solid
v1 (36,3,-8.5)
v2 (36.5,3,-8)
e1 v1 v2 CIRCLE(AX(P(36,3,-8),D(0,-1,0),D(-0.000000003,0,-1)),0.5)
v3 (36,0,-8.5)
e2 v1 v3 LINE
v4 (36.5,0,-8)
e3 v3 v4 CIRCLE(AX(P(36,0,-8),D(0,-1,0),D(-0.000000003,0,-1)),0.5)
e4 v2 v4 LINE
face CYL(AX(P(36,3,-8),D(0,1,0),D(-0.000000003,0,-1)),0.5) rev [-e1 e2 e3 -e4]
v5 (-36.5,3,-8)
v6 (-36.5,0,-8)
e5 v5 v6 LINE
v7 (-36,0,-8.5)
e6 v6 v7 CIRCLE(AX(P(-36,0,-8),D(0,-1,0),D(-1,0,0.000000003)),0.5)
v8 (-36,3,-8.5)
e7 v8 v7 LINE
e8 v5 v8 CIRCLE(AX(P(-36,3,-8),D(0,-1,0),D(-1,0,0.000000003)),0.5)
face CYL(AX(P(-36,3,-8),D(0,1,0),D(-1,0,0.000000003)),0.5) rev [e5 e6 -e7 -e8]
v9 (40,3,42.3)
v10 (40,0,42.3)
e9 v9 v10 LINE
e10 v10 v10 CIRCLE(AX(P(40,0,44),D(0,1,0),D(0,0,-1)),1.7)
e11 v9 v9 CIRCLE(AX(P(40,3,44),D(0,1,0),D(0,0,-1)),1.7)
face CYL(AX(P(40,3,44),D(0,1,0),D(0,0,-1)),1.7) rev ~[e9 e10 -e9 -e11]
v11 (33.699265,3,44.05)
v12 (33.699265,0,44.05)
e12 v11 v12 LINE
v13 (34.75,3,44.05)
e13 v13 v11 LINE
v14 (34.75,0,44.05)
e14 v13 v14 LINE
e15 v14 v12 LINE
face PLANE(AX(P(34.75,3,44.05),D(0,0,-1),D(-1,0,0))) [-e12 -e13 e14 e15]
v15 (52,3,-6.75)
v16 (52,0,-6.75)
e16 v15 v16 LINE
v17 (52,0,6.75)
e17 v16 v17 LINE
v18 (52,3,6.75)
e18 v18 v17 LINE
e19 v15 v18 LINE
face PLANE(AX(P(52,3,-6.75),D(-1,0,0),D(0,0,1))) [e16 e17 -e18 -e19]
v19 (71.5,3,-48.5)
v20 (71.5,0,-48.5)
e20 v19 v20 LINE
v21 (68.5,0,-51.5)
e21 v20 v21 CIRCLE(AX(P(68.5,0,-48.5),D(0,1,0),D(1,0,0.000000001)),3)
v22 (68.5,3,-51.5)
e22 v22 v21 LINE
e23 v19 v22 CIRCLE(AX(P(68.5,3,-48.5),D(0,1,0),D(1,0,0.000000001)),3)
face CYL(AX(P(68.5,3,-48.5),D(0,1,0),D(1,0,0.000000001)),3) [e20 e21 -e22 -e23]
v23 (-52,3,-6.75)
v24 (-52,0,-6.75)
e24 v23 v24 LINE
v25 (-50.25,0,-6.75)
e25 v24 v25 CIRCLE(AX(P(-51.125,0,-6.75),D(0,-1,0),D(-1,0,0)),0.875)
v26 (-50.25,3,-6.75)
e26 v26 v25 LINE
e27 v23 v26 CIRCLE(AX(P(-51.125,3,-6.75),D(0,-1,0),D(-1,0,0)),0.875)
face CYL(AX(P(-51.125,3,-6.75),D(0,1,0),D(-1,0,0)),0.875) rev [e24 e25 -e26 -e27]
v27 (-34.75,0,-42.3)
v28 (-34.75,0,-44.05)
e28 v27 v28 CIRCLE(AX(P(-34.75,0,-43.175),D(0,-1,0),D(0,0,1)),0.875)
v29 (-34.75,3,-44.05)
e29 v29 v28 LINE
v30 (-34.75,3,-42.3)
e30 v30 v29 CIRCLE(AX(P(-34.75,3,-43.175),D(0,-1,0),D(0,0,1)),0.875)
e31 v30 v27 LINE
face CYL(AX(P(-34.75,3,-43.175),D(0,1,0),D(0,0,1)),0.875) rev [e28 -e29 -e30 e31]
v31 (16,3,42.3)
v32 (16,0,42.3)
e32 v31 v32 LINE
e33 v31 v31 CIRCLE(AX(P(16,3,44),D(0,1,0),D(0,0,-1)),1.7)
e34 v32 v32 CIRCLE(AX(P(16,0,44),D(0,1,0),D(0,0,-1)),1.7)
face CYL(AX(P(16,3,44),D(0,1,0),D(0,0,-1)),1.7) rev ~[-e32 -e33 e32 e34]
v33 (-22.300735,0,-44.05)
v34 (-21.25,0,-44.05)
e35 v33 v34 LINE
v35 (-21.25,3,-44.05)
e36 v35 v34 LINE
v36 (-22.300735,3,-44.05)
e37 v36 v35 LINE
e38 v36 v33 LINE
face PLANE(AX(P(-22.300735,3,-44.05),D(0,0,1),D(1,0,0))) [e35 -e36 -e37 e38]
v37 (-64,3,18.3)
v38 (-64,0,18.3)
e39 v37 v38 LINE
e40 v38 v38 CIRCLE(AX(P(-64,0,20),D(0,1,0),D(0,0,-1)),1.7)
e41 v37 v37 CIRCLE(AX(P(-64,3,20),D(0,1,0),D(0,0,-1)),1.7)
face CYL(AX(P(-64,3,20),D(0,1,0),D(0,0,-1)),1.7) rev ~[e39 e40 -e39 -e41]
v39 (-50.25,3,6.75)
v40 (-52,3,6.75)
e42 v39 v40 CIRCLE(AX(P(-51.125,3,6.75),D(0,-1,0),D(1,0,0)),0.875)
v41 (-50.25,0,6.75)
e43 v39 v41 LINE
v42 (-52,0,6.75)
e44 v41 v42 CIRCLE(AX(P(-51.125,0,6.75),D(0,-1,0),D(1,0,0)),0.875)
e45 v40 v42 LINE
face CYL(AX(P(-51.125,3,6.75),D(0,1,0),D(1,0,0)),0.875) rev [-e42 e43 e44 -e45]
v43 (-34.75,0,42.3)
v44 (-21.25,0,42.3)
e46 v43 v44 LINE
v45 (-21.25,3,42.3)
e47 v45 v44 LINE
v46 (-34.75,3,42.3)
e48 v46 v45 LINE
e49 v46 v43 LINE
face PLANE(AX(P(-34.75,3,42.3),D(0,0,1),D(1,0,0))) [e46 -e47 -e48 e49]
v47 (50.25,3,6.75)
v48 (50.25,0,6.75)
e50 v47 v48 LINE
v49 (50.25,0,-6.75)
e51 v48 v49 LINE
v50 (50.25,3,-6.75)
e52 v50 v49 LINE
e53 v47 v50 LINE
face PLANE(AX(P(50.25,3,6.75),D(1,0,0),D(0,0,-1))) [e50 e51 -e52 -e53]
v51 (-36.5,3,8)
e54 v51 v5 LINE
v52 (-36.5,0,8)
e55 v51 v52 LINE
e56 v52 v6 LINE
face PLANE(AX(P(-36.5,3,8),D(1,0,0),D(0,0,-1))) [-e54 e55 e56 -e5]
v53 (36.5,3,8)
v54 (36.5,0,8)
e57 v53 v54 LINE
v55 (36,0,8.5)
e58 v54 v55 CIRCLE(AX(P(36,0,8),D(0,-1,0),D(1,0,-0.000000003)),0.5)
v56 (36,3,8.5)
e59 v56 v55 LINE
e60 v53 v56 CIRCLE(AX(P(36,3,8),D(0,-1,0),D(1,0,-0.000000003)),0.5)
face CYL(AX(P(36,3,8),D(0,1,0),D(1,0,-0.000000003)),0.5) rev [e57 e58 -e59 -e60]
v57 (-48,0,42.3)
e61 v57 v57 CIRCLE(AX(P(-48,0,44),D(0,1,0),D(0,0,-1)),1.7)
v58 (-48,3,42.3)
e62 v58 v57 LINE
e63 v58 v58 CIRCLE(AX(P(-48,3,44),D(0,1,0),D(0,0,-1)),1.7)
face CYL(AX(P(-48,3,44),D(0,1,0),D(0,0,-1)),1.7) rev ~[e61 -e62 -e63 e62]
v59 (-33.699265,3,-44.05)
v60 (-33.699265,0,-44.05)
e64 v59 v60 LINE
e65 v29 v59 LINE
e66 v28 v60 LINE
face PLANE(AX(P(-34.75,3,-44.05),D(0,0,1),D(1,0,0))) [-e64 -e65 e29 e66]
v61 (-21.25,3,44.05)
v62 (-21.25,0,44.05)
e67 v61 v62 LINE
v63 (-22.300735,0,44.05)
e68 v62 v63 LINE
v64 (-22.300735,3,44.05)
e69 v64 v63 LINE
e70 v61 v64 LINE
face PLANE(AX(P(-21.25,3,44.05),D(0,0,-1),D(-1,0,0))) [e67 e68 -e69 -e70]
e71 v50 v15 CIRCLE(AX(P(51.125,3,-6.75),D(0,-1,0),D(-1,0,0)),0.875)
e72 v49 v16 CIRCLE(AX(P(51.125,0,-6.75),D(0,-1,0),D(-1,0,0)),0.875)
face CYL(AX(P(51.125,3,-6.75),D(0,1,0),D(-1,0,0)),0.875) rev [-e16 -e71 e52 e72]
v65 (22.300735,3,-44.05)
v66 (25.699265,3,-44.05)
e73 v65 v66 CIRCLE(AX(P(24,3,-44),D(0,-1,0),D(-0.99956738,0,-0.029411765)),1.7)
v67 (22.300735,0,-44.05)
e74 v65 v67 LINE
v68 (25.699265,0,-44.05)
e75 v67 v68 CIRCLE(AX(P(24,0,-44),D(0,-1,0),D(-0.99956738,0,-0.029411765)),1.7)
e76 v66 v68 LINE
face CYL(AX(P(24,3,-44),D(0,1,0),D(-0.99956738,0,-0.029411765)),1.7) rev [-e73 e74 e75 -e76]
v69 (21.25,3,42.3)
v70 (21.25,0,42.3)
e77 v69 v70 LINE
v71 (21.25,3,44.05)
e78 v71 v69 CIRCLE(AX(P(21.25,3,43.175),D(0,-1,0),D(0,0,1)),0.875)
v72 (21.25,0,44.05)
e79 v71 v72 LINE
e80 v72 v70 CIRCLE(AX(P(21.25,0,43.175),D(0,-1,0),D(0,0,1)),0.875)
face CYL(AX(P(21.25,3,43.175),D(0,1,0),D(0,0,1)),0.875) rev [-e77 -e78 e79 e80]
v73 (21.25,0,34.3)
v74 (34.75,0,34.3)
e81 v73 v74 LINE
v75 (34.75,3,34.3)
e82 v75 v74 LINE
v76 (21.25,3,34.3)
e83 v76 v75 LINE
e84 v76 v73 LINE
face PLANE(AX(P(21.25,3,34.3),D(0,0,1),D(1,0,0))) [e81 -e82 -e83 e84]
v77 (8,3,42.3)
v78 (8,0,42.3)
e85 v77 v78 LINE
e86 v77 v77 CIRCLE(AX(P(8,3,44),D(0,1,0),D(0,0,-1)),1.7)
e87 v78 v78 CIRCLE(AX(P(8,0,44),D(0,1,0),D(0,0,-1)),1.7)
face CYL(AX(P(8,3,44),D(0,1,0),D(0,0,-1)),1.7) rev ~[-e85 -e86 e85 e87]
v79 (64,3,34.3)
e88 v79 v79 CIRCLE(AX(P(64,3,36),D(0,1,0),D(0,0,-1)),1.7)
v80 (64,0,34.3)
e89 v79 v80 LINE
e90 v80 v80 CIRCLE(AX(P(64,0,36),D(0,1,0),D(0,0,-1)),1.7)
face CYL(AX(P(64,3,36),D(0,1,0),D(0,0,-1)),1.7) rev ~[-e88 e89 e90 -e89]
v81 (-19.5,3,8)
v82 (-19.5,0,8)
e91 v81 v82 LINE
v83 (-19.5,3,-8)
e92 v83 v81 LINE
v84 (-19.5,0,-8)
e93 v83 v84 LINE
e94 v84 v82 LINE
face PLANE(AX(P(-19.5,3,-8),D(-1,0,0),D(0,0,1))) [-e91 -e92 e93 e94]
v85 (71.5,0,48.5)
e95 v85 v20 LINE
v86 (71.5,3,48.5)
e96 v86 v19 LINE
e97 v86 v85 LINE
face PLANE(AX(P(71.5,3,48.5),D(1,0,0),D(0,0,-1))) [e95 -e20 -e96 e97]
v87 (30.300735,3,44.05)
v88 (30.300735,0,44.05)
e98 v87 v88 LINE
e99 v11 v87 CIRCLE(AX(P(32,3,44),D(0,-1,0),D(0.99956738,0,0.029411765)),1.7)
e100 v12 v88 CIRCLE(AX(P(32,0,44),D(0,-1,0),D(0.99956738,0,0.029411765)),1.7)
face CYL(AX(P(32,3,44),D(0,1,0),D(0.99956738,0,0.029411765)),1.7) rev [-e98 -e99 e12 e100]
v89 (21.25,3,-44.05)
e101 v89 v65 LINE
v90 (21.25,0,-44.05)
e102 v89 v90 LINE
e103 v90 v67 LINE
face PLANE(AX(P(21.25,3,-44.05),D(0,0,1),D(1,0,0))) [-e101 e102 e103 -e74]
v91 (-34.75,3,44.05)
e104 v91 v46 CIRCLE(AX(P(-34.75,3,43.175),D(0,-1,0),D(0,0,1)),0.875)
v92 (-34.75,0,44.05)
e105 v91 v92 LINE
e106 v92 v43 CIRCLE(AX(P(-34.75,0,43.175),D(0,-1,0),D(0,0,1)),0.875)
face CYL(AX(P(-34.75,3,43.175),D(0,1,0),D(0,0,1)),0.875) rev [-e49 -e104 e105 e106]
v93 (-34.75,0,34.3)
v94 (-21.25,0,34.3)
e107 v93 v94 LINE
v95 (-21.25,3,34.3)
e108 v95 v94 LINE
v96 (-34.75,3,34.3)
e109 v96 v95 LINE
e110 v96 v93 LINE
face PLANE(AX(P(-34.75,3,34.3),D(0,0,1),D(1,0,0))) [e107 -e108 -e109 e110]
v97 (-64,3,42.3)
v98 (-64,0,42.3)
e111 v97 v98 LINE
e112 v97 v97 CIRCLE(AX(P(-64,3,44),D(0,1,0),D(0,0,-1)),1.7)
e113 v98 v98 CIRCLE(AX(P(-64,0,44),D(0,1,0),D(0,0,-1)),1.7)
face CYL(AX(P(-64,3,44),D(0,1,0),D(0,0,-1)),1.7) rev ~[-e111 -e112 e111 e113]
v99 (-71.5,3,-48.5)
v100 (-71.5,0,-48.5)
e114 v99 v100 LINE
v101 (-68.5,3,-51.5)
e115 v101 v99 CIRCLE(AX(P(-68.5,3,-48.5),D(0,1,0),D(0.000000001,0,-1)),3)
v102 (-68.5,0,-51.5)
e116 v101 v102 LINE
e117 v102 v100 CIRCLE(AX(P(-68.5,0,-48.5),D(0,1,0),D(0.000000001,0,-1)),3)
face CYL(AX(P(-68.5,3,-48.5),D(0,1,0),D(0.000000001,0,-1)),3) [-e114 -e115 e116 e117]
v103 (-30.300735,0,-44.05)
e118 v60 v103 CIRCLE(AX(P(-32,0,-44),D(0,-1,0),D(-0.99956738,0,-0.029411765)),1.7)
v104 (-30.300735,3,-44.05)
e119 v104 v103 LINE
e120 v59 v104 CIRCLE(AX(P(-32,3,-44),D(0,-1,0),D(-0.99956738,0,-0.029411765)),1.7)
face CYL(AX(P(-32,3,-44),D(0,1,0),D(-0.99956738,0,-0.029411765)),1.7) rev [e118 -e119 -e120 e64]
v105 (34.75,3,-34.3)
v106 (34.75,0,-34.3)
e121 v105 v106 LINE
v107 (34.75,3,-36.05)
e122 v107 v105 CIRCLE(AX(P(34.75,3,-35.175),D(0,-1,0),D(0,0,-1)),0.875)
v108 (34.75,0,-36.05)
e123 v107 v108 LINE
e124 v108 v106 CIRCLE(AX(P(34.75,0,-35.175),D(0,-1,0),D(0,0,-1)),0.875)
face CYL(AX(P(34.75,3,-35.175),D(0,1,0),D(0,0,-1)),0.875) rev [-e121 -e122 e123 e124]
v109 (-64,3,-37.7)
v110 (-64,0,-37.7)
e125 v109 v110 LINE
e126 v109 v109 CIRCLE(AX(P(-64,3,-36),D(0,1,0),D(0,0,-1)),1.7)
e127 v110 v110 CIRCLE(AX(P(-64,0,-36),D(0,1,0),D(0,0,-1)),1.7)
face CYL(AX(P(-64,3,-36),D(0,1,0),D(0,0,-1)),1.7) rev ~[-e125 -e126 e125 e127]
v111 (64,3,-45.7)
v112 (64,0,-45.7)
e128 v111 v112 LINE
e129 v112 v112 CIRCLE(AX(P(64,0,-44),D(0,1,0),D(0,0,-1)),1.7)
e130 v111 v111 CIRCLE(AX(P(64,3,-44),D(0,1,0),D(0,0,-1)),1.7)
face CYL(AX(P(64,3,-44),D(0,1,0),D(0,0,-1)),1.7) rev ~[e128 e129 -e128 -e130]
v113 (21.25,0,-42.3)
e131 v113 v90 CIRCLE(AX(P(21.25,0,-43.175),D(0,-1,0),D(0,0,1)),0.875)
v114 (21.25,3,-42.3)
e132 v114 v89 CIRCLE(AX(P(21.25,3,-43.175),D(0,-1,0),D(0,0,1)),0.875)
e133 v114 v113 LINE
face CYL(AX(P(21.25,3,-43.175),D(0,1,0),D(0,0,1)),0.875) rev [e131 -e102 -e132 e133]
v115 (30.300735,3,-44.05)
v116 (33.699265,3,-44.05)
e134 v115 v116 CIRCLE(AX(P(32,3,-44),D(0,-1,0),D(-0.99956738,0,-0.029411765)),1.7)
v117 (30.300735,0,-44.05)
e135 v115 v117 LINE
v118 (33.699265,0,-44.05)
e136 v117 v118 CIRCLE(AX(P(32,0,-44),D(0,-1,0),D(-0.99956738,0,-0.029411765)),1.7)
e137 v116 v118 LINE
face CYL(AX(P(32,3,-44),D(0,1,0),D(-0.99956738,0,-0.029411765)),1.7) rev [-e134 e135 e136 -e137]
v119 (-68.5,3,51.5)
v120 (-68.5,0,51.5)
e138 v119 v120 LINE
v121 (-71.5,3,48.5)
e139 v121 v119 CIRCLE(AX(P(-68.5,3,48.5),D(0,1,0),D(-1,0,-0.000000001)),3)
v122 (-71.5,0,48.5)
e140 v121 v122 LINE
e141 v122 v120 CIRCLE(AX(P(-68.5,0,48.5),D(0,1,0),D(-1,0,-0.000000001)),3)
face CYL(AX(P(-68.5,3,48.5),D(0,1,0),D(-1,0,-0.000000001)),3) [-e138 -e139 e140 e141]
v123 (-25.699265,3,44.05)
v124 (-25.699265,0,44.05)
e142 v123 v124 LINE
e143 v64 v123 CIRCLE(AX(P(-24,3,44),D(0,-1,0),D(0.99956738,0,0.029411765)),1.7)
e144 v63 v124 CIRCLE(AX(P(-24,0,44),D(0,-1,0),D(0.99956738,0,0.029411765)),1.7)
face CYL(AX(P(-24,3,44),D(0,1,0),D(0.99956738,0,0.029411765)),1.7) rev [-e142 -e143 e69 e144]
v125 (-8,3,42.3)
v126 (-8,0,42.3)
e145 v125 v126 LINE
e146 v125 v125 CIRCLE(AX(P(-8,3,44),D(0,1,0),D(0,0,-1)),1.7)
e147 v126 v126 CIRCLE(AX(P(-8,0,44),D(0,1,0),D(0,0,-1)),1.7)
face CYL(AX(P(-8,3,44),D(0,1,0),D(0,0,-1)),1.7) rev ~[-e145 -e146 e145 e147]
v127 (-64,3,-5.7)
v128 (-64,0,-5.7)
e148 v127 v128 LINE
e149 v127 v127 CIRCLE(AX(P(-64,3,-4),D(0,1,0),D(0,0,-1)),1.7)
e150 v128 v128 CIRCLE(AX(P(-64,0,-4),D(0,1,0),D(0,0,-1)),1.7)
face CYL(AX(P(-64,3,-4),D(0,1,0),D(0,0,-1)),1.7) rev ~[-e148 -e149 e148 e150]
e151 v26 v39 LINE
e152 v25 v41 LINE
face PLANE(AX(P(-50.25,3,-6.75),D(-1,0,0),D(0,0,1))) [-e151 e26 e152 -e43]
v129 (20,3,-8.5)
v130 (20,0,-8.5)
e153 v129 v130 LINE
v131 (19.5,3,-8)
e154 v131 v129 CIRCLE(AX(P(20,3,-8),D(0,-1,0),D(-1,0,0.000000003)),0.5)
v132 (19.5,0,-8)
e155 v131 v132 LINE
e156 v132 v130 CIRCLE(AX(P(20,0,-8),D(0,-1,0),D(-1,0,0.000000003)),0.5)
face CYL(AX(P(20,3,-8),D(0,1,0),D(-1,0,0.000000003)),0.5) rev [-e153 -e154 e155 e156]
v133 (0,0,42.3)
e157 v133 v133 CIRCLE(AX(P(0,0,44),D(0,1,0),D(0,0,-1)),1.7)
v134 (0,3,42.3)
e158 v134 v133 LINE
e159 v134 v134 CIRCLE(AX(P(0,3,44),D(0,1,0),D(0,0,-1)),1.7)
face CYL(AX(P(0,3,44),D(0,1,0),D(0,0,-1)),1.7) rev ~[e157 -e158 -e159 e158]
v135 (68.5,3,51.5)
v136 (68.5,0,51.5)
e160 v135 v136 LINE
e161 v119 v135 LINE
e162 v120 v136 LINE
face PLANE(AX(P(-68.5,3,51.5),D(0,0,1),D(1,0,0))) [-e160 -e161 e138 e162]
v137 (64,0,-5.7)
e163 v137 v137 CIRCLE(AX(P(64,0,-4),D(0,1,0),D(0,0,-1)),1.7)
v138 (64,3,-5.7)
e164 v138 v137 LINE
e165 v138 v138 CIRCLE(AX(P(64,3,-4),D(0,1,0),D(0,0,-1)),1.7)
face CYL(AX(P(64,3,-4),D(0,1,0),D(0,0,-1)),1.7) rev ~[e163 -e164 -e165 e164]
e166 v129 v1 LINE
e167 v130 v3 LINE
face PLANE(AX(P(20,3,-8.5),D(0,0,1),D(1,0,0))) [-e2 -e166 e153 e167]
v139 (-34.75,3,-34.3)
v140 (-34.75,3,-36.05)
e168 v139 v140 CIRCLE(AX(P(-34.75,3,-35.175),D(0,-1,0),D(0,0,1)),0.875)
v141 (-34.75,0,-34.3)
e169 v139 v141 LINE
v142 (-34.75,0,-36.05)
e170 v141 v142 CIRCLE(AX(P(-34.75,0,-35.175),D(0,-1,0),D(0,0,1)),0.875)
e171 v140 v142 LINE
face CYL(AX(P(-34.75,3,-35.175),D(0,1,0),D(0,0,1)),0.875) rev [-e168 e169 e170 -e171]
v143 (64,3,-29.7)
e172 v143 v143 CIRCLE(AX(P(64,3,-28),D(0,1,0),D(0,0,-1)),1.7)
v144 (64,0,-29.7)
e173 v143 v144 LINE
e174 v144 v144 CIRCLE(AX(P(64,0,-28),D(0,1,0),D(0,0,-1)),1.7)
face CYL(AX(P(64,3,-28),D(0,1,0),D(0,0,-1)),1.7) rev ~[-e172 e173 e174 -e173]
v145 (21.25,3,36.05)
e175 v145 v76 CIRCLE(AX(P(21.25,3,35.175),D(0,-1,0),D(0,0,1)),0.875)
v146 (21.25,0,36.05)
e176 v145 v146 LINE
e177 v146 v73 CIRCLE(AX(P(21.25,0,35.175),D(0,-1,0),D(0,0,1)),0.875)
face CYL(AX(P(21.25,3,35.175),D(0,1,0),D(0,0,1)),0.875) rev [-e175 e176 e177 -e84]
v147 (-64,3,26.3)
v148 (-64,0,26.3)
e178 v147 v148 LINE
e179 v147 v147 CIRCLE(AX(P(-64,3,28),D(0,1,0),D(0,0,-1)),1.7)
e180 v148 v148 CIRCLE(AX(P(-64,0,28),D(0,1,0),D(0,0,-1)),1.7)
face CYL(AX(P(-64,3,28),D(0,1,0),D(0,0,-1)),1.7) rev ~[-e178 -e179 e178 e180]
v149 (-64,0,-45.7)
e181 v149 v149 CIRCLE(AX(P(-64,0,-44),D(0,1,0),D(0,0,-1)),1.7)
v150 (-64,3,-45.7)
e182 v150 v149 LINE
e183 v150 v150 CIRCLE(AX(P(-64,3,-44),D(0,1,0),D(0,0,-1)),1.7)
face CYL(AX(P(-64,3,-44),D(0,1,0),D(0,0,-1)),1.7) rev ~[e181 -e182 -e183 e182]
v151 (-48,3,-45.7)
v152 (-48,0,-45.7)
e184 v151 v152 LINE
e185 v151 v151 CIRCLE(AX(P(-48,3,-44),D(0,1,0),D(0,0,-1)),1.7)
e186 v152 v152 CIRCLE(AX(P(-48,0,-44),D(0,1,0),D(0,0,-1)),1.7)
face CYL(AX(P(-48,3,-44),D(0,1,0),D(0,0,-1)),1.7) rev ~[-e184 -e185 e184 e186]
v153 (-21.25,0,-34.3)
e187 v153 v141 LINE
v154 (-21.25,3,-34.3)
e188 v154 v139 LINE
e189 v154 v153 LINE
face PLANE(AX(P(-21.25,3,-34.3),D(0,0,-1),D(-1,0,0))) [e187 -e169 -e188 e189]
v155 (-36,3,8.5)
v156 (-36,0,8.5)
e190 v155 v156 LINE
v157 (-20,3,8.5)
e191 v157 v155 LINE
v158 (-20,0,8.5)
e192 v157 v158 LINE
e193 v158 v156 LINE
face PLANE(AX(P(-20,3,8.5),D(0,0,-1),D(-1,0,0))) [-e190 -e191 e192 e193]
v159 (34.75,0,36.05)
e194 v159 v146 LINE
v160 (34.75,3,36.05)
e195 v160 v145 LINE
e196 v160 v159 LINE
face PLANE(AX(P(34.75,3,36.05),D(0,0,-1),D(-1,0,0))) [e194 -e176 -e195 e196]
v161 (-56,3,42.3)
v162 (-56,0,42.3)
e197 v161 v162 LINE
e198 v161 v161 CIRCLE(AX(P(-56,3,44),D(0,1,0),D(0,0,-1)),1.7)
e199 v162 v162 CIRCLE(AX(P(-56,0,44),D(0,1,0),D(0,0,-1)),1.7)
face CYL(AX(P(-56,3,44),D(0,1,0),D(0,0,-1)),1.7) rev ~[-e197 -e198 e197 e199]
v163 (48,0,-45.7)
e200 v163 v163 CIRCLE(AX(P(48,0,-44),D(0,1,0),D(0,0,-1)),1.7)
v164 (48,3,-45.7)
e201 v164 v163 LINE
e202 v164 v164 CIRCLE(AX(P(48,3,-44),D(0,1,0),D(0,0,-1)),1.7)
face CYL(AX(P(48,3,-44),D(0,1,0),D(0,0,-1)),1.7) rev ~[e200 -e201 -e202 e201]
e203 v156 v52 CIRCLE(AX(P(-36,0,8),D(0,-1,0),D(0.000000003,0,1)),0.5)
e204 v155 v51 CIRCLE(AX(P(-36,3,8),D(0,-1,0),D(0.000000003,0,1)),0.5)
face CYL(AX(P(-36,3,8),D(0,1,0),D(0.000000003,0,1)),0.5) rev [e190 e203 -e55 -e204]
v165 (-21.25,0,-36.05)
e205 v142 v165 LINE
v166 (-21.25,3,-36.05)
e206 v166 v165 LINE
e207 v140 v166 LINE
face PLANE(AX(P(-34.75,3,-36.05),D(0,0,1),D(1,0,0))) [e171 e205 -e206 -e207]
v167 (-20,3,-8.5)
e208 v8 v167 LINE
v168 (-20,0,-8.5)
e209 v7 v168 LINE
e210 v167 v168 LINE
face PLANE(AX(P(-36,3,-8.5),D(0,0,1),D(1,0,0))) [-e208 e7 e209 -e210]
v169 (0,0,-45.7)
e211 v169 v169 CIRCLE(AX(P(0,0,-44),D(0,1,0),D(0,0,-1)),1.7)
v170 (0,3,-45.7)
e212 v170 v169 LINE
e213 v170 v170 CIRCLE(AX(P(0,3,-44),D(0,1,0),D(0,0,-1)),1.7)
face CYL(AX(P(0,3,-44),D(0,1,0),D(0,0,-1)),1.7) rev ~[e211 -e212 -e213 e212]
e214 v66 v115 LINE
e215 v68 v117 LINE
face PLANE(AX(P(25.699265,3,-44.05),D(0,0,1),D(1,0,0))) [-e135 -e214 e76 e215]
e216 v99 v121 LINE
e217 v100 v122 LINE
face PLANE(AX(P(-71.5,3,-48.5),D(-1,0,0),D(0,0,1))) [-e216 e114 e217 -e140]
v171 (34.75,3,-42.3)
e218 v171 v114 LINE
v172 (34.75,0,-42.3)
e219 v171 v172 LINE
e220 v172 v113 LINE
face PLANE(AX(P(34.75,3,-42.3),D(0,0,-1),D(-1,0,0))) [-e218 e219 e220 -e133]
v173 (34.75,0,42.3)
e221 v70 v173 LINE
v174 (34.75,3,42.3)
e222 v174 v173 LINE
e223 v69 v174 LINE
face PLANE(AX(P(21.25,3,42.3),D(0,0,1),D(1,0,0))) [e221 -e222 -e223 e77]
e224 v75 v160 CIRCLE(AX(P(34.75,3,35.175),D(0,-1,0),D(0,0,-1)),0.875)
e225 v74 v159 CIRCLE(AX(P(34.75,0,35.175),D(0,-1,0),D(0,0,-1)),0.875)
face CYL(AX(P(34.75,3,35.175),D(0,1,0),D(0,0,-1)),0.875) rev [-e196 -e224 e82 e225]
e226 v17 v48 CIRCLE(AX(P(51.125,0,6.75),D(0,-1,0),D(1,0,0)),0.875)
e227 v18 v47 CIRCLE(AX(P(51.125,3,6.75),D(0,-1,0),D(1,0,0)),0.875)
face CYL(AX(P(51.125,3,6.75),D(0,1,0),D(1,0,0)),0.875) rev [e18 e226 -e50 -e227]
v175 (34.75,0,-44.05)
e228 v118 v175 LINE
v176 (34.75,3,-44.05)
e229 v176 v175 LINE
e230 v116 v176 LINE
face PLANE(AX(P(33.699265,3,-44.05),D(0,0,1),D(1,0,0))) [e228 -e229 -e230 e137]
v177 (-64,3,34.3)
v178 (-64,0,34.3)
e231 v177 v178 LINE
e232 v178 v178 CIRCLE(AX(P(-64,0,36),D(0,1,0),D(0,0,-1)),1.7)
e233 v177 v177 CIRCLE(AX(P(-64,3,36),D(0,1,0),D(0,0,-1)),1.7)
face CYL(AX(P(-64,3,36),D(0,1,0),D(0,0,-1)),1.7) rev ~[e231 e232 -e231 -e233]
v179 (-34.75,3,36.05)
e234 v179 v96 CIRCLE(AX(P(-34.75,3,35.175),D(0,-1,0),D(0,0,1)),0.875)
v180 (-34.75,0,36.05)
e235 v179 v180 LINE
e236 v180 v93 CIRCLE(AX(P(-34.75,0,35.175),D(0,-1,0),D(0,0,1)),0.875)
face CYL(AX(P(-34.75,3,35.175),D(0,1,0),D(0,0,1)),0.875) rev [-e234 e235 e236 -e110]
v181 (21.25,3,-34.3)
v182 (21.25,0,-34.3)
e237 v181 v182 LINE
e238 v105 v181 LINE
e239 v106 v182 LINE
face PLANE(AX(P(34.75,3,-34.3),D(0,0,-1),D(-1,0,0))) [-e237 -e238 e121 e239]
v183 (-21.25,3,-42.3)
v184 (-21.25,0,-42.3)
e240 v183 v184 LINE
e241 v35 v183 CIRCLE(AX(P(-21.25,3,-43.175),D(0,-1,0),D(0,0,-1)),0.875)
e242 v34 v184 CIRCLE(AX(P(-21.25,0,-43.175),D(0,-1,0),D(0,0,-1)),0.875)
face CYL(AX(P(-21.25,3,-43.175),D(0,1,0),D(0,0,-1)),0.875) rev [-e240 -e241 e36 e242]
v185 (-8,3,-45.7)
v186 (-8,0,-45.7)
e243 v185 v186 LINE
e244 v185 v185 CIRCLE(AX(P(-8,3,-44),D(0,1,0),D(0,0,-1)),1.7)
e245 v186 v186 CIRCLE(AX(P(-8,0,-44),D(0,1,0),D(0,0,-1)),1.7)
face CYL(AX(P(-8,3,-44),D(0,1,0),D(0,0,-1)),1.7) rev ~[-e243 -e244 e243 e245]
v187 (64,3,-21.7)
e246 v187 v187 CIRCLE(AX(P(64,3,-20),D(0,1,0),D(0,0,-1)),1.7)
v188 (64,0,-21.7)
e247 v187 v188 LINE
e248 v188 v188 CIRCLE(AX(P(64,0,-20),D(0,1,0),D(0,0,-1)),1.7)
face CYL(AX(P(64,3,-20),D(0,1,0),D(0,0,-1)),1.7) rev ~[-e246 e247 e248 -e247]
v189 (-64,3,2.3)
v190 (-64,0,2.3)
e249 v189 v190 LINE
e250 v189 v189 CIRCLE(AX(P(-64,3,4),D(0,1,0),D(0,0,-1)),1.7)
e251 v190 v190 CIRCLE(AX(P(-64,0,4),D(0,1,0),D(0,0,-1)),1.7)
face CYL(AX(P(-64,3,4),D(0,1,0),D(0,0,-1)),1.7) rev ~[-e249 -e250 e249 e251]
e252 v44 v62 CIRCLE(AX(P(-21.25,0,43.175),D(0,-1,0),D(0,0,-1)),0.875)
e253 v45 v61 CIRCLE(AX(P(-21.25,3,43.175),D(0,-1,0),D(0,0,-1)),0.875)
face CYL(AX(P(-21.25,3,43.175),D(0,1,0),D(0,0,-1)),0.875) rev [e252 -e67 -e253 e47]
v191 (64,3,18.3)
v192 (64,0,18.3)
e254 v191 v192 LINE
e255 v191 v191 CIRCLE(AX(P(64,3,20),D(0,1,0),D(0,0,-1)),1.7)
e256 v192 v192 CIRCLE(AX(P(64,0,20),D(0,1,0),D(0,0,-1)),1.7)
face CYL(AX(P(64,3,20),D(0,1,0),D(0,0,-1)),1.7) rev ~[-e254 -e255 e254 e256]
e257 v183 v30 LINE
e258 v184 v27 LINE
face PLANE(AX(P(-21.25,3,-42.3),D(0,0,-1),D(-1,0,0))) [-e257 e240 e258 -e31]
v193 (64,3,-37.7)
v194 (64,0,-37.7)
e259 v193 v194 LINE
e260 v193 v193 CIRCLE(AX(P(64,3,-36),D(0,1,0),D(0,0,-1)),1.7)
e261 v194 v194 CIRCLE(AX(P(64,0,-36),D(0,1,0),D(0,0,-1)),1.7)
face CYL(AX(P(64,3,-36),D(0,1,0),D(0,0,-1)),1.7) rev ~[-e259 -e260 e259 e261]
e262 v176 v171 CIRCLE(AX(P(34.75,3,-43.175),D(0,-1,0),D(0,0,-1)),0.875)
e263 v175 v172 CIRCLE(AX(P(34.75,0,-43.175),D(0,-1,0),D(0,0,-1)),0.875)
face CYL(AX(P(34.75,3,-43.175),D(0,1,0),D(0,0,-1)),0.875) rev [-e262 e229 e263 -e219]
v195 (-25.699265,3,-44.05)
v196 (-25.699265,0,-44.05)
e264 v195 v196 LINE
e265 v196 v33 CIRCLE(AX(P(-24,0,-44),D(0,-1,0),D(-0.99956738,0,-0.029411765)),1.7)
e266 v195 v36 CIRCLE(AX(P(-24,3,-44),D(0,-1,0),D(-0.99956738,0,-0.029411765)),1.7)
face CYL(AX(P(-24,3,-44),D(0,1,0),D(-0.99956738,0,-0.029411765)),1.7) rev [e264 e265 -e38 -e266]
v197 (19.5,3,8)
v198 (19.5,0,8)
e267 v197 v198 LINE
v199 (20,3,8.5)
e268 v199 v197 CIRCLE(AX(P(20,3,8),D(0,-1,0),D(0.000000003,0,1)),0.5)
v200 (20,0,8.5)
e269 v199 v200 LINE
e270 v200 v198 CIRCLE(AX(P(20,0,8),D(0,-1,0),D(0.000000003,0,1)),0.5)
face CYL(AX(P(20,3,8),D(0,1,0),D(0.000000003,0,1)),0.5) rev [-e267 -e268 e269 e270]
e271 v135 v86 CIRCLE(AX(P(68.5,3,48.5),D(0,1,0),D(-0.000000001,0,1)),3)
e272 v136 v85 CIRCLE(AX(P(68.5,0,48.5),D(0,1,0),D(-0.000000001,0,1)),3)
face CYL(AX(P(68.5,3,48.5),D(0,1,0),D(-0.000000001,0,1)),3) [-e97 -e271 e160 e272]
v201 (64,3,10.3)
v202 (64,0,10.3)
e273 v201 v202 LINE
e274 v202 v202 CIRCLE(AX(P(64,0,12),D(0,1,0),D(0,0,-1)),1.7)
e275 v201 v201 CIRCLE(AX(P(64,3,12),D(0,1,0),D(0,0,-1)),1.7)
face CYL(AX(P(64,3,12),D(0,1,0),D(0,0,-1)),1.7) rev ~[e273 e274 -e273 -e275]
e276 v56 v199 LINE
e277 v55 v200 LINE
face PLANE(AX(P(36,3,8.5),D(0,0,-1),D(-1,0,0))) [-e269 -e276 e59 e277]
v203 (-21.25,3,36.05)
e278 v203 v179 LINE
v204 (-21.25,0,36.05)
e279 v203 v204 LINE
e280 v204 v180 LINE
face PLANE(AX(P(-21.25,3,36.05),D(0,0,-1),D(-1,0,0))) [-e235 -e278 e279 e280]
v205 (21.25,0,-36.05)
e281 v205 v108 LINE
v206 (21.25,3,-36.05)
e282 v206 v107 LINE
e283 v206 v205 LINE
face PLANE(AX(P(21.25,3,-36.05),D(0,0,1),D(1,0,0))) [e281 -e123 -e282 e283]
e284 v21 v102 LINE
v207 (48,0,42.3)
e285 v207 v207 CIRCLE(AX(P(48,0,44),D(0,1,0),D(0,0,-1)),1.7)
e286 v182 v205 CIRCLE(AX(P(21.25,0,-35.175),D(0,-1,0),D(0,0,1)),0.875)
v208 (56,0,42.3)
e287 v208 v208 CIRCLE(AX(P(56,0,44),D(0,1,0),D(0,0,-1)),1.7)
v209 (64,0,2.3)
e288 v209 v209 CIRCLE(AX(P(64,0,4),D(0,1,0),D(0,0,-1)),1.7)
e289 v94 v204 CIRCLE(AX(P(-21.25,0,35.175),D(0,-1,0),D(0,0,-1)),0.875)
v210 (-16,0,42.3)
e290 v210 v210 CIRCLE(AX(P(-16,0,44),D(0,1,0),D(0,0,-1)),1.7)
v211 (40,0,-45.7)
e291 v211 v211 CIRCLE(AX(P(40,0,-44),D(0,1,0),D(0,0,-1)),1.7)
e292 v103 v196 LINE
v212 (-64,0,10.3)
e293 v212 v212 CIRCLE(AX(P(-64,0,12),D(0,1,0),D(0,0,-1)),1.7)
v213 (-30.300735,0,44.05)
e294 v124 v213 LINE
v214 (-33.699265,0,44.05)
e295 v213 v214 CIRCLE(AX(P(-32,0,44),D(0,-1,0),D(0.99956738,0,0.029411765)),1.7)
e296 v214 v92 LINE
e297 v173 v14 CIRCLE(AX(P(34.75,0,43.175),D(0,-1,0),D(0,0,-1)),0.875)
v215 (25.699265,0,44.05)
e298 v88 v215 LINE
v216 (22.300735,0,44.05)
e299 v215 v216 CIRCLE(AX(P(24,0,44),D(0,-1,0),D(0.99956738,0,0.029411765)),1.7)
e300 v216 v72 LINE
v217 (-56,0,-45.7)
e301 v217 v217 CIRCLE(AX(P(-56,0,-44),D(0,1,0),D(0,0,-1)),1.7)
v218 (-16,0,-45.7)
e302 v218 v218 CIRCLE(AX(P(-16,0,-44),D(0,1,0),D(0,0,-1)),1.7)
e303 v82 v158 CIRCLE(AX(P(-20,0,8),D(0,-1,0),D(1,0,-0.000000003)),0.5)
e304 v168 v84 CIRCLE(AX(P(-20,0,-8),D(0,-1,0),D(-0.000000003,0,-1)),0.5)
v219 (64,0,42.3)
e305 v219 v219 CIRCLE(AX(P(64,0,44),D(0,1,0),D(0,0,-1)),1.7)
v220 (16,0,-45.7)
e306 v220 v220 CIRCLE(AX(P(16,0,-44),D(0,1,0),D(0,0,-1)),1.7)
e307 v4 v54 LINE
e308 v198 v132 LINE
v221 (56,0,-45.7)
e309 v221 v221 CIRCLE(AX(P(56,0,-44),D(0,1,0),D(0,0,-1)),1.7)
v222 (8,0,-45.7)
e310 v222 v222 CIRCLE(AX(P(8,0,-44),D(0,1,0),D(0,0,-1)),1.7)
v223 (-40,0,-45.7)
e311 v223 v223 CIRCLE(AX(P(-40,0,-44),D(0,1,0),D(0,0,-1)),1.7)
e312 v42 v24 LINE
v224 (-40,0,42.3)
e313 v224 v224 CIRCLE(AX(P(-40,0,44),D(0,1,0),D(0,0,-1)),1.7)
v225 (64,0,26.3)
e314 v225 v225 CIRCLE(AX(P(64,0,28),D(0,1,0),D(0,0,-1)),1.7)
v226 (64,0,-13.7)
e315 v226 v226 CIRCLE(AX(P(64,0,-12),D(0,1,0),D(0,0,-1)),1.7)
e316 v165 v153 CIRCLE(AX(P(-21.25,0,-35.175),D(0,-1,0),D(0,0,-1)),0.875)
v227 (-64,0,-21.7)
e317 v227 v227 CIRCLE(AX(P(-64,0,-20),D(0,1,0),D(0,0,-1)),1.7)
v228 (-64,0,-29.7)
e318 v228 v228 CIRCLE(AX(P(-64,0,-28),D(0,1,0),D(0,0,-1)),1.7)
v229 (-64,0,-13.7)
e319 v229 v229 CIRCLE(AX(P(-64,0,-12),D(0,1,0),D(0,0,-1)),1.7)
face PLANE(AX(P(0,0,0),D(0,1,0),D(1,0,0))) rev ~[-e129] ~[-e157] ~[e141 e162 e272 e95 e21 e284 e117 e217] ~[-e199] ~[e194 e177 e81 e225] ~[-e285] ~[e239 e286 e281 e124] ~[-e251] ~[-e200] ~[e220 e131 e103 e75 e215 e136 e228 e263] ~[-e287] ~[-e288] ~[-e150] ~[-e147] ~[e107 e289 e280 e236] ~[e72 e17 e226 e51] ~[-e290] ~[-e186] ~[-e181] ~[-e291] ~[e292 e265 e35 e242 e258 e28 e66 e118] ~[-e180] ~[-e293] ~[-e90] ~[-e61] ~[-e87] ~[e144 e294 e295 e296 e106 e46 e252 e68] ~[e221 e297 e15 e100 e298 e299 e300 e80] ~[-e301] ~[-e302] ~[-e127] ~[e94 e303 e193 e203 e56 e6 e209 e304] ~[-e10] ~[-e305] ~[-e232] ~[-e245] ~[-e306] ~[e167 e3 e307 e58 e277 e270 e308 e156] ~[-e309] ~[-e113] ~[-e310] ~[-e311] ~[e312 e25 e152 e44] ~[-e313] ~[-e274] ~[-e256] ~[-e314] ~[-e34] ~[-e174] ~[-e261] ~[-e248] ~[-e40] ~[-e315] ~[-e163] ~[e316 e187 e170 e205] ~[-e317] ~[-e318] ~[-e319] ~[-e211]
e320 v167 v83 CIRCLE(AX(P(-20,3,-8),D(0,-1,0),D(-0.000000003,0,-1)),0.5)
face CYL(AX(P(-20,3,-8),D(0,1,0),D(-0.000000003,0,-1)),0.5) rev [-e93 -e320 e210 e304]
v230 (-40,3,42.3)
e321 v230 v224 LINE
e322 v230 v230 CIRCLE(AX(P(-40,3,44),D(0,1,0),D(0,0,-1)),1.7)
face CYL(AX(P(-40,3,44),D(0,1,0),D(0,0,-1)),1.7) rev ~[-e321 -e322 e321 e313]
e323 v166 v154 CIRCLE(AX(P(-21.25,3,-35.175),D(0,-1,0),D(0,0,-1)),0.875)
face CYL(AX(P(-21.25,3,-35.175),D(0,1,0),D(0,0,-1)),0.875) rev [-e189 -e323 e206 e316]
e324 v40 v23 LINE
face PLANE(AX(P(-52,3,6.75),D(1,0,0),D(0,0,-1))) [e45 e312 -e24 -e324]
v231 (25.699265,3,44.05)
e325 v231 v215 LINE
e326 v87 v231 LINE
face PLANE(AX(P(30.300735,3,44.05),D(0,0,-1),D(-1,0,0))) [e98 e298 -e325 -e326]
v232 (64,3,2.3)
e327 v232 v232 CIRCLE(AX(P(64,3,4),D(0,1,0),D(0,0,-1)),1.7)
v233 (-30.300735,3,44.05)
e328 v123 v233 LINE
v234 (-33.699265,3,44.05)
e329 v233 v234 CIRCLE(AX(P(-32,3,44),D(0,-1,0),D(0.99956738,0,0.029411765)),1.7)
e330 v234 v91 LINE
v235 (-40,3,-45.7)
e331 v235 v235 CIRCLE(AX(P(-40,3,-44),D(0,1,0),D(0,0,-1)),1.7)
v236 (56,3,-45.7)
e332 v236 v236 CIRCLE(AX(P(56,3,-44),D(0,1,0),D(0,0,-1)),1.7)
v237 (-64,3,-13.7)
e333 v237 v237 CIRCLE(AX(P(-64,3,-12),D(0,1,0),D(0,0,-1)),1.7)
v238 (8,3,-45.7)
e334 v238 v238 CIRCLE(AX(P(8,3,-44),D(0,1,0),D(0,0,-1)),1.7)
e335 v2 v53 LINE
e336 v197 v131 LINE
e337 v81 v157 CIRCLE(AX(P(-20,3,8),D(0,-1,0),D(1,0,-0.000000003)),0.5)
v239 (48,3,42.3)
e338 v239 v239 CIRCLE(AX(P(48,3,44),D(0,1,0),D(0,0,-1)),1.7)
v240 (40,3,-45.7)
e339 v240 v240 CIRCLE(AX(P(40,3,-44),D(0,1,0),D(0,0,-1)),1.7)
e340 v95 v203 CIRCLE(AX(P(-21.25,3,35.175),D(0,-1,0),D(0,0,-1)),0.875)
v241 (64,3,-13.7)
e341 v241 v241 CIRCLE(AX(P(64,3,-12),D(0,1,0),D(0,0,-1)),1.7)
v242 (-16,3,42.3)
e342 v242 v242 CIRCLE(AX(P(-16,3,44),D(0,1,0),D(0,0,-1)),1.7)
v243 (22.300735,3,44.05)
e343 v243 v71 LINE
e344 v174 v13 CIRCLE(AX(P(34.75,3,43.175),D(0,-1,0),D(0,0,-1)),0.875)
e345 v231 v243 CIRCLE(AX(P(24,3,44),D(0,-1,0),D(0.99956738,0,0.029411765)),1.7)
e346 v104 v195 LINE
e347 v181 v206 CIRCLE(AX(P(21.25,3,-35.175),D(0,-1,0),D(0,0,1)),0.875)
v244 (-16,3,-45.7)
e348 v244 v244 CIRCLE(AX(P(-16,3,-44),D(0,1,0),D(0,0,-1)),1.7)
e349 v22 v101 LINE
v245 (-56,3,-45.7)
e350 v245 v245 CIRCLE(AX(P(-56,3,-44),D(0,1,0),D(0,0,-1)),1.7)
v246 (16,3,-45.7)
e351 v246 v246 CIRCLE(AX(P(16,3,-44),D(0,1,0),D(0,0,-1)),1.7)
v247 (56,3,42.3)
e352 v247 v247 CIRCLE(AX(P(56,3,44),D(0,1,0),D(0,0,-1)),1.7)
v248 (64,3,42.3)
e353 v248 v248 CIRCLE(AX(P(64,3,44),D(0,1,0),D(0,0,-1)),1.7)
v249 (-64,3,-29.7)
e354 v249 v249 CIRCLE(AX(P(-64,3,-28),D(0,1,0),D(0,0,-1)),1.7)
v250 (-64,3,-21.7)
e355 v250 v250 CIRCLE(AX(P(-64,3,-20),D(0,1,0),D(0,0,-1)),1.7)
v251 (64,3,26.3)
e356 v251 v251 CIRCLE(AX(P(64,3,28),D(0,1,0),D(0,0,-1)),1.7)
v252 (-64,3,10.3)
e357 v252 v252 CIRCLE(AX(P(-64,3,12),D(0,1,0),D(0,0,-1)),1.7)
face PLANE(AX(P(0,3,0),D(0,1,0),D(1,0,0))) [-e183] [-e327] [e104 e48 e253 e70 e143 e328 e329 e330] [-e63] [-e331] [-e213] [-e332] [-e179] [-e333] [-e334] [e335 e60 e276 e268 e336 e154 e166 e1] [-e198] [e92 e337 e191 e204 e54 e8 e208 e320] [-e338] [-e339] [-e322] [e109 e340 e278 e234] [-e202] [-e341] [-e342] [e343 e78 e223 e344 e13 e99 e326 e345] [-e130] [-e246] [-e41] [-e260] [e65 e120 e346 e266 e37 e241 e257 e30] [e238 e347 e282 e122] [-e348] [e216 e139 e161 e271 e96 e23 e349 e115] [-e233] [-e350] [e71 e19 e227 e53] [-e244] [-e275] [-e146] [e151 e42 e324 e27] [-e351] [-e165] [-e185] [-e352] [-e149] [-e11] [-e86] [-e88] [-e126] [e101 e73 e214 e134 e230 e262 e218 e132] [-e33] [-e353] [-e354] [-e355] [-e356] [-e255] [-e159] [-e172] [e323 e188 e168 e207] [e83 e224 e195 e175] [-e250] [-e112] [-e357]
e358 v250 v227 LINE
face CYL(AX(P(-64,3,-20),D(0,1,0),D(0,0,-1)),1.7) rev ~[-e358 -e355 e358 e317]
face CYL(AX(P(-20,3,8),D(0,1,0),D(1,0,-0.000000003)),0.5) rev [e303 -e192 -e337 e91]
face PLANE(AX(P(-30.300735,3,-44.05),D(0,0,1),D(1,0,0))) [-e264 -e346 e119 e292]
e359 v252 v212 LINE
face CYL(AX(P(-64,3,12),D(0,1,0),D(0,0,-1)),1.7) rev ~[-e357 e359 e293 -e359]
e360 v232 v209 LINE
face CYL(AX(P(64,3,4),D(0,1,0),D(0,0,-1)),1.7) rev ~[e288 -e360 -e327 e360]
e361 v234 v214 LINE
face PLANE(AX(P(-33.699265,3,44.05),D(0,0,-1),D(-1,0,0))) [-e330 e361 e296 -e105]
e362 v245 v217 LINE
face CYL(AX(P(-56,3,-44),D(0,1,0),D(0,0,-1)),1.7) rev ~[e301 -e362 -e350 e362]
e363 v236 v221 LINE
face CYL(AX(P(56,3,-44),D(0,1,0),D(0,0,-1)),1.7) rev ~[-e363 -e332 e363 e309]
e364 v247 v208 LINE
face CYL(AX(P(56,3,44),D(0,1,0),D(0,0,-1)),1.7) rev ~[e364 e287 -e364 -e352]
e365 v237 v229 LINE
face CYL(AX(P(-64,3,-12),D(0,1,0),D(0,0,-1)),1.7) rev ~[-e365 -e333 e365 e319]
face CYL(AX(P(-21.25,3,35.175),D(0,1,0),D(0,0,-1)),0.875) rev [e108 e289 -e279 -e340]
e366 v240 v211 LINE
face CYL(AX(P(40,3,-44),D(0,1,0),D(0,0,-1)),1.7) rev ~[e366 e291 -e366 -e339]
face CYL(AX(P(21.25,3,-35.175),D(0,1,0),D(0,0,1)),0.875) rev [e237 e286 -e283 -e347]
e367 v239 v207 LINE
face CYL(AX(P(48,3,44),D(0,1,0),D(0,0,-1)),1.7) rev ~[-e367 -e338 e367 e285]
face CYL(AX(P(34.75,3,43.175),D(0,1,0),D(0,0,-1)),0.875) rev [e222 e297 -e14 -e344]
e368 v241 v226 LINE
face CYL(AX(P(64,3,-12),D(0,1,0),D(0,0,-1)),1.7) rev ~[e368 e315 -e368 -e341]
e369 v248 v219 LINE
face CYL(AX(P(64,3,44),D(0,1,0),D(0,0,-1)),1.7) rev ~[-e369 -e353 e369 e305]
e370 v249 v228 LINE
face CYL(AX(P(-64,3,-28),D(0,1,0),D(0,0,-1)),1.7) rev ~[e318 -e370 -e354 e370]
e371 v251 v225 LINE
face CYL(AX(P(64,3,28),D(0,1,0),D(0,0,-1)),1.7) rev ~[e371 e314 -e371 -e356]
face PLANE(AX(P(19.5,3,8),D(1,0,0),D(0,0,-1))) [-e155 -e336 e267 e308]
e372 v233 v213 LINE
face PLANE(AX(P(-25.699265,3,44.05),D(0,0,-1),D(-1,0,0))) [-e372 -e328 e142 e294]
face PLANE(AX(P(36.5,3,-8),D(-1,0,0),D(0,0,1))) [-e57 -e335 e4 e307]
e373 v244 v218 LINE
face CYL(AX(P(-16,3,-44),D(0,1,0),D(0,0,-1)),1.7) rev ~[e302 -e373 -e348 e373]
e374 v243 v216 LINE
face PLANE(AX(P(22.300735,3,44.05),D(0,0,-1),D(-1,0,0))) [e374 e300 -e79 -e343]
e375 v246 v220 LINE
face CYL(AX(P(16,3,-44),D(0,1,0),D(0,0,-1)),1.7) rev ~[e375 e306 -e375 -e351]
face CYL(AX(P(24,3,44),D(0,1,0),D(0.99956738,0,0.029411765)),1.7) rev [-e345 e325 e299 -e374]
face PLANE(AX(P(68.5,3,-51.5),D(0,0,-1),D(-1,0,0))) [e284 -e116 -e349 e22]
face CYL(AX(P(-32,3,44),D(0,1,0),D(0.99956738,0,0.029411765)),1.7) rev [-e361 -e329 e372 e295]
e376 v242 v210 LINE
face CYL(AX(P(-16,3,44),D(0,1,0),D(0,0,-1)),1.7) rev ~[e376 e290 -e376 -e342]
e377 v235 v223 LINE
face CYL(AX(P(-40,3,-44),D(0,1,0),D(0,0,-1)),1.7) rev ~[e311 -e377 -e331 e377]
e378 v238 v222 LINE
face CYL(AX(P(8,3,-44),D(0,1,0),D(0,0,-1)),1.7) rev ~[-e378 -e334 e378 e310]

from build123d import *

# Parameters (mm, degrees)
SKETCH1_R           = 1.7
BOSS_EXTRUDE1_DEPTH = 3


with BuildPart() as part:
    # Sketch1 → Boss-Extrude1 (new body)
    with BuildSketch(Plane(origin=(0, 3, 0), x_dir=(1, 0, 0), z_dir=(0, 1, 0))):
        with BuildLine():
            Line((71.5, -48.5), (71.5, 48.5))
            ThreePointArc((71.5, 48.5), (70.621320344, 50.621320344), (68.5, 51.5))
            Line((68.5, 51.5), (-68.5, 51.5))
            ThreePointArc((-68.5, 51.5), (-70.621320344, 50.621320344), (-71.5, 48.5))
            Line((-71.5, 48.5), (-71.5, -48.5))
            ThreePointArc((-71.5, -48.5), (-70.621320344, -50.621320344), (-68.5, -51.5))
            Line((-68.5, -51.5), (68.5, -51.5))
            ThreePointArc((68.5, -51.5), (70.621320344, -50.621320344), (71.5, -48.5))
        make_face()
        with Locations(Location((-64, 44, 0), (0, 0, 90))):
            Circle(SKETCH1_R, mode=Mode.SUBTRACT)
        with Locations(Location((-64, 28, 0), (0, 0, 90))):
            Circle(SKETCH1_R, mode=Mode.SUBTRACT)
        with Locations(Location((-64, 12, 0), (0, 0, 90))):
            Circle(SKETCH1_R, mode=Mode.SUBTRACT)
        with Locations(Location((-64, -4, 0), (0, 0, 90))):
            Circle(SKETCH1_R, mode=Mode.SUBTRACT)
        with Locations(Location((-64, -20, 0), (0, 0, 90))):
            Circle(SKETCH1_R, mode=Mode.SUBTRACT)
        with Locations(Location((-64, -36, 0), (0, 0, 90))):
            Circle(SKETCH1_R, mode=Mode.SUBTRACT)
        with Locations(Location((56, -44, 0), (0, 0, 90))):
            Circle(SKETCH1_R, mode=Mode.SUBTRACT)
        with Locations(Location((40, -44, 0), (0, 0, 90))):
            Circle(SKETCH1_R, mode=Mode.SUBTRACT)
        with Locations(Location((8, -44, 0), (0, 0, 90))):
            Circle(SKETCH1_R, mode=Mode.SUBTRACT)
        with Locations(Location((-8, -44, 0), (0, 0, 90))):
            Circle(SKETCH1_R, mode=Mode.SUBTRACT)
        with Locations(Location((-40, -44, 0), (0, 0, 90))):
            Circle(SKETCH1_R, mode=Mode.SUBTRACT)
        with Locations(Location((-56, -44, 0), (0, 0, 90))):
            Circle(SKETCH1_R, mode=Mode.SUBTRACT)
        with Locations(Location((-64, -44, 0), (0, 0, 90))):
            Circle(SKETCH1_R, mode=Mode.SUBTRACT)
        with Locations(Location((-48, -44, 0), (0, 0, 90))):
            Circle(SKETCH1_R, mode=Mode.SUBTRACT)
        with Locations(Location((-16, -44, 0), (0, 0, 90))):
            Circle(SKETCH1_R, mode=Mode.SUBTRACT)
        with Locations(Location((0, -44, 0), (0, 0, 90))):
            Circle(SKETCH1_R, mode=Mode.SUBTRACT)
        with Locations(Location((16, -44, 0), (0, 0, 90))):
            Circle(SKETCH1_R, mode=Mode.SUBTRACT)
        with Locations(Location((48, -44, 0), (0, 0, 90))):
            Circle(SKETCH1_R, mode=Mode.SUBTRACT)
        with Locations(Location((64, -44, 0), (0, 0, 90))):
            Circle(SKETCH1_R, mode=Mode.SUBTRACT)
        with Locations(Location((-64, -28, 0), (0, 0, 90))):
            Circle(SKETCH1_R, mode=Mode.SUBTRACT)
        with Locations(Location((-64, -12, 0), (0, 0, 90))):
            Circle(SKETCH1_R, mode=Mode.SUBTRACT)
        with Locations(Location((-64, 4, 0), (0, 0, 90))):
            Circle(SKETCH1_R, mode=Mode.SUBTRACT)
        with Locations(Location((-64, 20, 0), (0, 0, 90))):
            Circle(SKETCH1_R, mode=Mode.SUBTRACT)
        with Locations(Location((-64, 36, 0), (0, 0, 90))):
            Circle(SKETCH1_R, mode=Mode.SUBTRACT)
        with Locations(Location((64, -20, 0), (0, 0, 90))):
            Circle(SKETCH1_R, mode=Mode.SUBTRACT)
        with Locations(Location((64, -4, 0), (0, 0, 90))):
            Circle(SKETCH1_R, mode=Mode.SUBTRACT)
        with Locations(Location((64, 12, 0), (0, 0, 90))):
            Circle(SKETCH1_R, mode=Mode.SUBTRACT)
        with Locations(Location((64, 28, 0), (0, 0, 90))):
            Circle(SKETCH1_R, mode=Mode.SUBTRACT)
        with Locations(Location((-48, 44, 0), (0, 0, 90))):
            Circle(SKETCH1_R, mode=Mode.SUBTRACT)
        with Locations(Location((-16, 44, 0), (0, 0, 90))):
            Circle(SKETCH1_R, mode=Mode.SUBTRACT)
        with Locations(Location((0, 44, 0), (0, 0, 90))):
            Circle(SKETCH1_R, mode=Mode.SUBTRACT)
        with Locations(Location((16, 44, 0), (0, 0, 90))):
            Circle(SKETCH1_R, mode=Mode.SUBTRACT)
        with Locations(Location((48, 44, 0), (0, 0, 90))):
            Circle(SKETCH1_R, mode=Mode.SUBTRACT)
        with Locations(Location((64, 44, 0), (0, 0, 90))):
            Circle(SKETCH1_R, mode=Mode.SUBTRACT)
        with Locations(Location((56, 44, 0), (0, 0, 90))):
            Circle(SKETCH1_R, mode=Mode.SUBTRACT)
        with Locations(Location((40, 44, 0), (0, 0, 90))):
            Circle(SKETCH1_R, mode=Mode.SUBTRACT)
        with Locations(Location((8, 44, 0), (0, 0, 90))):
            Circle(SKETCH1_R, mode=Mode.SUBTRACT)
        with Locations(Location((-8, 44, 0), (0, 0, 90))):
            Circle(SKETCH1_R, mode=Mode.SUBTRACT)
        with Locations(Location((-40, 44, 0), (0, 0, 90))):
            Circle(SKETCH1_R, mode=Mode.SUBTRACT)
        with Locations(Location((-56, 44, 0), (0, 0, 90))):
            Circle(SKETCH1_R, mode=Mode.SUBTRACT)
        with Locations(Location((64, 36, 0), (0, 0, 90))):
            Circle(SKETCH1_R, mode=Mode.SUBTRACT)
        with Locations(Location((64, 20, 0), (0, 0, 90))):
            Circle(SKETCH1_R, mode=Mode.SUBTRACT)
        with Locations(Location((64, 4, 0), (0, 0, 90))):
            Circle(SKETCH1_R, mode=Mode.SUBTRACT)
        with Locations(Location((64, -12, 0), (0, 0, 90))):
            Circle(SKETCH1_R, mode=Mode.SUBTRACT)
        with Locations(Location((64, -28, 0), (0, 0, 90))):
            Circle(SKETCH1_R, mode=Mode.SUBTRACT)
        with Locations(Location((64, -36, 0), (0, 0, 90))):
            Circle(SKETCH1_R, mode=Mode.SUBTRACT)
        with BuildLine():
            Line((21.25, 44.05), (22.300735453, 44.05))
            ThreePointArc((22.300735453, 44.05), (24, 45.7), (25.699264547, 44.05))
            Line((25.699264547, 44.05), (30.300735453, 44.05))
            ThreePointArc((30.300735453, 44.05), (32, 45.7), (33.699264547, 44.05))
            Line((33.699264547, 44.05), (34.75, 44.05))
            ThreePointArc((34.75, 44.05), (35.625, 43.175), (34.75, 42.3))
            Line((34.75, 42.3), (21.25, 42.3))
            ThreePointArc((21.25, 42.3), (20.375, 43.175), (21.25, 44.05))
        make_face(mode=Mode.SUBTRACT)
        with BuildLine():
            Line((22.300735453, -44.05), (21.25, -44.05))
            ThreePointArc((21.25, -44.05), (20.375, -43.175), (21.25, -42.3))
            Line((21.25, -42.3), (34.75, -42.3))
            ThreePointArc((34.75, -42.3), (35.625, -43.175), (34.75, -44.05))
            Line((34.75, -44.05), (33.699264547, -44.05))
            ThreePointArc((33.699264547, -44.05), (32, -45.7), (30.300735453, -44.05))
            Line((30.300735453, -44.05), (25.699264547, -44.05))
            ThreePointArc((25.699264547, -44.05), (24, -45.7), (22.300735453, -44.05))
        make_face(mode=Mode.SUBTRACT)
        with BuildLine():
            Line((21.25, 36.05), (34.75, 36.05))
            ThreePointArc((34.75, 36.05), (35.625, 35.175), (34.75, 34.3))
            Line((34.75, 34.3), (21.25, 34.3))
            ThreePointArc((21.25, 34.3), (20.375, 35.175), (21.25, 36.05))
        make_face(mode=Mode.SUBTRACT)
        with BuildLine():
            Line((50.25, -6.75), (50.25, 6.75))
            ThreePointArc((50.25, 6.75), (51.125, 7.625), (52, 6.75))
            Line((52, 6.75), (52, -6.75))
            ThreePointArc((52, -6.75), (51.125, -7.625), (50.25, -6.75))
        make_face(mode=Mode.SUBTRACT)
        with BuildLine():
            Line((21.25, -34.3), (34.75, -34.3))
            ThreePointArc((34.75, -34.3), (35.625, -35.175), (34.75, -36.05))
            Line((34.75, -36.05), (21.25, -36.05))
            ThreePointArc((21.25, -36.05), (20.375, -35.175), (21.25, -34.3))
        make_face(mode=Mode.SUBTRACT)
        with BuildLine():
            Line((36, -8.5), (20, -8.5))
            ThreePointArc((20, -8.5), (19.646446609, -8.353553391), (19.5, -8))
            Line((19.5, -8), (19.5, 8))
            ThreePointArc((19.5, 8), (19.646446609, 8.353553391), (20, 8.5))
            Line((20, 8.5), (36, 8.5))
            ThreePointArc((36, 8.5), (36.353553391, 8.353553391), (36.5, 8))
            Line((36.5, 8), (36.5, -8))
            ThreePointArc((36.5, -8), (36.353553391, -8.353553391), (36, -8.5))
        make_face(mode=Mode.SUBTRACT)
        with BuildLine():
            Line((-21.25, 34.3), (-34.75, 34.3))
            ThreePointArc((-34.75, 34.3), (-35.625, 35.175), (-34.75, 36.05))
            Line((-34.75, 36.05), (-21.25, 36.05))
            ThreePointArc((-21.25, 36.05), (-20.375, 35.175), (-21.25, 34.3))
        make_face(mode=Mode.SUBTRACT)
        with BuildLine():
            Line((-50.25, 6.75), (-50.25, -6.75))
            ThreePointArc((-50.25, -6.75), (-51.125, -7.625), (-52, -6.75))
            Line((-52, -6.75), (-52, 6.75))
            ThreePointArc((-52, 6.75), (-51.125, 7.625), (-50.25, 6.75))
        make_face(mode=Mode.SUBTRACT)
        with BuildLine():
            Line((-21.25, -36.05), (-34.75, -36.05))
            ThreePointArc((-34.75, -36.05), (-35.625, -35.175), (-34.75, -34.3))
            Line((-34.75, -34.3), (-21.25, -34.3))
            ThreePointArc((-21.25, -34.3), (-20.375, -35.175), (-21.25, -36.05))
        make_face(mode=Mode.SUBTRACT)
        with BuildLine():
            Line((-19.5, 8), (-19.5, -8))
            ThreePointArc((-19.5, -8), (-19.646446609, -8.353553391), (-20, -8.5))
            Line((-20, -8.5), (-36, -8.5))
            ThreePointArc((-36, -8.5), (-36.353553391, -8.353553391), (-36.5, -8))
            Line((-36.5, -8), (-36.5, 8))
            ThreePointArc((-36.5, 8), (-36.353553391, 8.353553391), (-36, 8.5))
            Line((-36, 8.5), (-20, 8.5))
            ThreePointArc((-20, 8.5), (-19.646446609, 8.353553391), (-19.5, 8))
        make_face(mode=Mode.SUBTRACT)
        with BuildLine():
            Line((-34.75, -42.3), (-21.25, -42.3))
            ThreePointArc((-21.25, -42.3), (-20.375, -43.175), (-21.25, -44.05))
            Line((-21.25, -44.05), (-22.300735453, -44.05))
            ThreePointArc((-22.300735453, -44.05), (-24, -45.7), (-25.699264547, -44.05))
            Line((-25.699264547, -44.05), (-30.300735453, -44.05))
            ThreePointArc((-30.300735453, -44.05), (-32, -45.7), (-33.699264547, -44.05))
            Line((-33.699264547, -44.05), (-34.75, -44.05))
            ThreePointArc((-34.75, -44.05), (-35.625, -43.175), (-34.75, -42.3))
        make_face(mode=Mode.SUBTRACT)
        with BuildLine():
            Line((-34.75, 44.05), (-33.699264547, 44.05))
            ThreePointArc((-33.699264547, 44.05), (-32, 45.7), (-30.300735453, 44.05))
            Line((-30.300735453, 44.05), (-25.699264547, 44.05))
            ThreePointArc((-25.699264547, 44.05), (-24, 45.7), (-22.300735453, 44.05))
            Line((-22.300735453, 44.05), (-21.25, 44.05))
            ThreePointArc((-21.25, 44.05), (-20.375, 43.175), (-21.25, 42.3))
            Line((-21.25, 42.3), (-34.75, 42.3))
            ThreePointArc((-34.75, 42.3), (-35.625, 43.175), (-34.75, 44.05))
        make_face(mode=Mode.SUBTRACT)
    extrude(amount=-BOSS_EXTRUDE1_DEPTH)


solid = part.part
